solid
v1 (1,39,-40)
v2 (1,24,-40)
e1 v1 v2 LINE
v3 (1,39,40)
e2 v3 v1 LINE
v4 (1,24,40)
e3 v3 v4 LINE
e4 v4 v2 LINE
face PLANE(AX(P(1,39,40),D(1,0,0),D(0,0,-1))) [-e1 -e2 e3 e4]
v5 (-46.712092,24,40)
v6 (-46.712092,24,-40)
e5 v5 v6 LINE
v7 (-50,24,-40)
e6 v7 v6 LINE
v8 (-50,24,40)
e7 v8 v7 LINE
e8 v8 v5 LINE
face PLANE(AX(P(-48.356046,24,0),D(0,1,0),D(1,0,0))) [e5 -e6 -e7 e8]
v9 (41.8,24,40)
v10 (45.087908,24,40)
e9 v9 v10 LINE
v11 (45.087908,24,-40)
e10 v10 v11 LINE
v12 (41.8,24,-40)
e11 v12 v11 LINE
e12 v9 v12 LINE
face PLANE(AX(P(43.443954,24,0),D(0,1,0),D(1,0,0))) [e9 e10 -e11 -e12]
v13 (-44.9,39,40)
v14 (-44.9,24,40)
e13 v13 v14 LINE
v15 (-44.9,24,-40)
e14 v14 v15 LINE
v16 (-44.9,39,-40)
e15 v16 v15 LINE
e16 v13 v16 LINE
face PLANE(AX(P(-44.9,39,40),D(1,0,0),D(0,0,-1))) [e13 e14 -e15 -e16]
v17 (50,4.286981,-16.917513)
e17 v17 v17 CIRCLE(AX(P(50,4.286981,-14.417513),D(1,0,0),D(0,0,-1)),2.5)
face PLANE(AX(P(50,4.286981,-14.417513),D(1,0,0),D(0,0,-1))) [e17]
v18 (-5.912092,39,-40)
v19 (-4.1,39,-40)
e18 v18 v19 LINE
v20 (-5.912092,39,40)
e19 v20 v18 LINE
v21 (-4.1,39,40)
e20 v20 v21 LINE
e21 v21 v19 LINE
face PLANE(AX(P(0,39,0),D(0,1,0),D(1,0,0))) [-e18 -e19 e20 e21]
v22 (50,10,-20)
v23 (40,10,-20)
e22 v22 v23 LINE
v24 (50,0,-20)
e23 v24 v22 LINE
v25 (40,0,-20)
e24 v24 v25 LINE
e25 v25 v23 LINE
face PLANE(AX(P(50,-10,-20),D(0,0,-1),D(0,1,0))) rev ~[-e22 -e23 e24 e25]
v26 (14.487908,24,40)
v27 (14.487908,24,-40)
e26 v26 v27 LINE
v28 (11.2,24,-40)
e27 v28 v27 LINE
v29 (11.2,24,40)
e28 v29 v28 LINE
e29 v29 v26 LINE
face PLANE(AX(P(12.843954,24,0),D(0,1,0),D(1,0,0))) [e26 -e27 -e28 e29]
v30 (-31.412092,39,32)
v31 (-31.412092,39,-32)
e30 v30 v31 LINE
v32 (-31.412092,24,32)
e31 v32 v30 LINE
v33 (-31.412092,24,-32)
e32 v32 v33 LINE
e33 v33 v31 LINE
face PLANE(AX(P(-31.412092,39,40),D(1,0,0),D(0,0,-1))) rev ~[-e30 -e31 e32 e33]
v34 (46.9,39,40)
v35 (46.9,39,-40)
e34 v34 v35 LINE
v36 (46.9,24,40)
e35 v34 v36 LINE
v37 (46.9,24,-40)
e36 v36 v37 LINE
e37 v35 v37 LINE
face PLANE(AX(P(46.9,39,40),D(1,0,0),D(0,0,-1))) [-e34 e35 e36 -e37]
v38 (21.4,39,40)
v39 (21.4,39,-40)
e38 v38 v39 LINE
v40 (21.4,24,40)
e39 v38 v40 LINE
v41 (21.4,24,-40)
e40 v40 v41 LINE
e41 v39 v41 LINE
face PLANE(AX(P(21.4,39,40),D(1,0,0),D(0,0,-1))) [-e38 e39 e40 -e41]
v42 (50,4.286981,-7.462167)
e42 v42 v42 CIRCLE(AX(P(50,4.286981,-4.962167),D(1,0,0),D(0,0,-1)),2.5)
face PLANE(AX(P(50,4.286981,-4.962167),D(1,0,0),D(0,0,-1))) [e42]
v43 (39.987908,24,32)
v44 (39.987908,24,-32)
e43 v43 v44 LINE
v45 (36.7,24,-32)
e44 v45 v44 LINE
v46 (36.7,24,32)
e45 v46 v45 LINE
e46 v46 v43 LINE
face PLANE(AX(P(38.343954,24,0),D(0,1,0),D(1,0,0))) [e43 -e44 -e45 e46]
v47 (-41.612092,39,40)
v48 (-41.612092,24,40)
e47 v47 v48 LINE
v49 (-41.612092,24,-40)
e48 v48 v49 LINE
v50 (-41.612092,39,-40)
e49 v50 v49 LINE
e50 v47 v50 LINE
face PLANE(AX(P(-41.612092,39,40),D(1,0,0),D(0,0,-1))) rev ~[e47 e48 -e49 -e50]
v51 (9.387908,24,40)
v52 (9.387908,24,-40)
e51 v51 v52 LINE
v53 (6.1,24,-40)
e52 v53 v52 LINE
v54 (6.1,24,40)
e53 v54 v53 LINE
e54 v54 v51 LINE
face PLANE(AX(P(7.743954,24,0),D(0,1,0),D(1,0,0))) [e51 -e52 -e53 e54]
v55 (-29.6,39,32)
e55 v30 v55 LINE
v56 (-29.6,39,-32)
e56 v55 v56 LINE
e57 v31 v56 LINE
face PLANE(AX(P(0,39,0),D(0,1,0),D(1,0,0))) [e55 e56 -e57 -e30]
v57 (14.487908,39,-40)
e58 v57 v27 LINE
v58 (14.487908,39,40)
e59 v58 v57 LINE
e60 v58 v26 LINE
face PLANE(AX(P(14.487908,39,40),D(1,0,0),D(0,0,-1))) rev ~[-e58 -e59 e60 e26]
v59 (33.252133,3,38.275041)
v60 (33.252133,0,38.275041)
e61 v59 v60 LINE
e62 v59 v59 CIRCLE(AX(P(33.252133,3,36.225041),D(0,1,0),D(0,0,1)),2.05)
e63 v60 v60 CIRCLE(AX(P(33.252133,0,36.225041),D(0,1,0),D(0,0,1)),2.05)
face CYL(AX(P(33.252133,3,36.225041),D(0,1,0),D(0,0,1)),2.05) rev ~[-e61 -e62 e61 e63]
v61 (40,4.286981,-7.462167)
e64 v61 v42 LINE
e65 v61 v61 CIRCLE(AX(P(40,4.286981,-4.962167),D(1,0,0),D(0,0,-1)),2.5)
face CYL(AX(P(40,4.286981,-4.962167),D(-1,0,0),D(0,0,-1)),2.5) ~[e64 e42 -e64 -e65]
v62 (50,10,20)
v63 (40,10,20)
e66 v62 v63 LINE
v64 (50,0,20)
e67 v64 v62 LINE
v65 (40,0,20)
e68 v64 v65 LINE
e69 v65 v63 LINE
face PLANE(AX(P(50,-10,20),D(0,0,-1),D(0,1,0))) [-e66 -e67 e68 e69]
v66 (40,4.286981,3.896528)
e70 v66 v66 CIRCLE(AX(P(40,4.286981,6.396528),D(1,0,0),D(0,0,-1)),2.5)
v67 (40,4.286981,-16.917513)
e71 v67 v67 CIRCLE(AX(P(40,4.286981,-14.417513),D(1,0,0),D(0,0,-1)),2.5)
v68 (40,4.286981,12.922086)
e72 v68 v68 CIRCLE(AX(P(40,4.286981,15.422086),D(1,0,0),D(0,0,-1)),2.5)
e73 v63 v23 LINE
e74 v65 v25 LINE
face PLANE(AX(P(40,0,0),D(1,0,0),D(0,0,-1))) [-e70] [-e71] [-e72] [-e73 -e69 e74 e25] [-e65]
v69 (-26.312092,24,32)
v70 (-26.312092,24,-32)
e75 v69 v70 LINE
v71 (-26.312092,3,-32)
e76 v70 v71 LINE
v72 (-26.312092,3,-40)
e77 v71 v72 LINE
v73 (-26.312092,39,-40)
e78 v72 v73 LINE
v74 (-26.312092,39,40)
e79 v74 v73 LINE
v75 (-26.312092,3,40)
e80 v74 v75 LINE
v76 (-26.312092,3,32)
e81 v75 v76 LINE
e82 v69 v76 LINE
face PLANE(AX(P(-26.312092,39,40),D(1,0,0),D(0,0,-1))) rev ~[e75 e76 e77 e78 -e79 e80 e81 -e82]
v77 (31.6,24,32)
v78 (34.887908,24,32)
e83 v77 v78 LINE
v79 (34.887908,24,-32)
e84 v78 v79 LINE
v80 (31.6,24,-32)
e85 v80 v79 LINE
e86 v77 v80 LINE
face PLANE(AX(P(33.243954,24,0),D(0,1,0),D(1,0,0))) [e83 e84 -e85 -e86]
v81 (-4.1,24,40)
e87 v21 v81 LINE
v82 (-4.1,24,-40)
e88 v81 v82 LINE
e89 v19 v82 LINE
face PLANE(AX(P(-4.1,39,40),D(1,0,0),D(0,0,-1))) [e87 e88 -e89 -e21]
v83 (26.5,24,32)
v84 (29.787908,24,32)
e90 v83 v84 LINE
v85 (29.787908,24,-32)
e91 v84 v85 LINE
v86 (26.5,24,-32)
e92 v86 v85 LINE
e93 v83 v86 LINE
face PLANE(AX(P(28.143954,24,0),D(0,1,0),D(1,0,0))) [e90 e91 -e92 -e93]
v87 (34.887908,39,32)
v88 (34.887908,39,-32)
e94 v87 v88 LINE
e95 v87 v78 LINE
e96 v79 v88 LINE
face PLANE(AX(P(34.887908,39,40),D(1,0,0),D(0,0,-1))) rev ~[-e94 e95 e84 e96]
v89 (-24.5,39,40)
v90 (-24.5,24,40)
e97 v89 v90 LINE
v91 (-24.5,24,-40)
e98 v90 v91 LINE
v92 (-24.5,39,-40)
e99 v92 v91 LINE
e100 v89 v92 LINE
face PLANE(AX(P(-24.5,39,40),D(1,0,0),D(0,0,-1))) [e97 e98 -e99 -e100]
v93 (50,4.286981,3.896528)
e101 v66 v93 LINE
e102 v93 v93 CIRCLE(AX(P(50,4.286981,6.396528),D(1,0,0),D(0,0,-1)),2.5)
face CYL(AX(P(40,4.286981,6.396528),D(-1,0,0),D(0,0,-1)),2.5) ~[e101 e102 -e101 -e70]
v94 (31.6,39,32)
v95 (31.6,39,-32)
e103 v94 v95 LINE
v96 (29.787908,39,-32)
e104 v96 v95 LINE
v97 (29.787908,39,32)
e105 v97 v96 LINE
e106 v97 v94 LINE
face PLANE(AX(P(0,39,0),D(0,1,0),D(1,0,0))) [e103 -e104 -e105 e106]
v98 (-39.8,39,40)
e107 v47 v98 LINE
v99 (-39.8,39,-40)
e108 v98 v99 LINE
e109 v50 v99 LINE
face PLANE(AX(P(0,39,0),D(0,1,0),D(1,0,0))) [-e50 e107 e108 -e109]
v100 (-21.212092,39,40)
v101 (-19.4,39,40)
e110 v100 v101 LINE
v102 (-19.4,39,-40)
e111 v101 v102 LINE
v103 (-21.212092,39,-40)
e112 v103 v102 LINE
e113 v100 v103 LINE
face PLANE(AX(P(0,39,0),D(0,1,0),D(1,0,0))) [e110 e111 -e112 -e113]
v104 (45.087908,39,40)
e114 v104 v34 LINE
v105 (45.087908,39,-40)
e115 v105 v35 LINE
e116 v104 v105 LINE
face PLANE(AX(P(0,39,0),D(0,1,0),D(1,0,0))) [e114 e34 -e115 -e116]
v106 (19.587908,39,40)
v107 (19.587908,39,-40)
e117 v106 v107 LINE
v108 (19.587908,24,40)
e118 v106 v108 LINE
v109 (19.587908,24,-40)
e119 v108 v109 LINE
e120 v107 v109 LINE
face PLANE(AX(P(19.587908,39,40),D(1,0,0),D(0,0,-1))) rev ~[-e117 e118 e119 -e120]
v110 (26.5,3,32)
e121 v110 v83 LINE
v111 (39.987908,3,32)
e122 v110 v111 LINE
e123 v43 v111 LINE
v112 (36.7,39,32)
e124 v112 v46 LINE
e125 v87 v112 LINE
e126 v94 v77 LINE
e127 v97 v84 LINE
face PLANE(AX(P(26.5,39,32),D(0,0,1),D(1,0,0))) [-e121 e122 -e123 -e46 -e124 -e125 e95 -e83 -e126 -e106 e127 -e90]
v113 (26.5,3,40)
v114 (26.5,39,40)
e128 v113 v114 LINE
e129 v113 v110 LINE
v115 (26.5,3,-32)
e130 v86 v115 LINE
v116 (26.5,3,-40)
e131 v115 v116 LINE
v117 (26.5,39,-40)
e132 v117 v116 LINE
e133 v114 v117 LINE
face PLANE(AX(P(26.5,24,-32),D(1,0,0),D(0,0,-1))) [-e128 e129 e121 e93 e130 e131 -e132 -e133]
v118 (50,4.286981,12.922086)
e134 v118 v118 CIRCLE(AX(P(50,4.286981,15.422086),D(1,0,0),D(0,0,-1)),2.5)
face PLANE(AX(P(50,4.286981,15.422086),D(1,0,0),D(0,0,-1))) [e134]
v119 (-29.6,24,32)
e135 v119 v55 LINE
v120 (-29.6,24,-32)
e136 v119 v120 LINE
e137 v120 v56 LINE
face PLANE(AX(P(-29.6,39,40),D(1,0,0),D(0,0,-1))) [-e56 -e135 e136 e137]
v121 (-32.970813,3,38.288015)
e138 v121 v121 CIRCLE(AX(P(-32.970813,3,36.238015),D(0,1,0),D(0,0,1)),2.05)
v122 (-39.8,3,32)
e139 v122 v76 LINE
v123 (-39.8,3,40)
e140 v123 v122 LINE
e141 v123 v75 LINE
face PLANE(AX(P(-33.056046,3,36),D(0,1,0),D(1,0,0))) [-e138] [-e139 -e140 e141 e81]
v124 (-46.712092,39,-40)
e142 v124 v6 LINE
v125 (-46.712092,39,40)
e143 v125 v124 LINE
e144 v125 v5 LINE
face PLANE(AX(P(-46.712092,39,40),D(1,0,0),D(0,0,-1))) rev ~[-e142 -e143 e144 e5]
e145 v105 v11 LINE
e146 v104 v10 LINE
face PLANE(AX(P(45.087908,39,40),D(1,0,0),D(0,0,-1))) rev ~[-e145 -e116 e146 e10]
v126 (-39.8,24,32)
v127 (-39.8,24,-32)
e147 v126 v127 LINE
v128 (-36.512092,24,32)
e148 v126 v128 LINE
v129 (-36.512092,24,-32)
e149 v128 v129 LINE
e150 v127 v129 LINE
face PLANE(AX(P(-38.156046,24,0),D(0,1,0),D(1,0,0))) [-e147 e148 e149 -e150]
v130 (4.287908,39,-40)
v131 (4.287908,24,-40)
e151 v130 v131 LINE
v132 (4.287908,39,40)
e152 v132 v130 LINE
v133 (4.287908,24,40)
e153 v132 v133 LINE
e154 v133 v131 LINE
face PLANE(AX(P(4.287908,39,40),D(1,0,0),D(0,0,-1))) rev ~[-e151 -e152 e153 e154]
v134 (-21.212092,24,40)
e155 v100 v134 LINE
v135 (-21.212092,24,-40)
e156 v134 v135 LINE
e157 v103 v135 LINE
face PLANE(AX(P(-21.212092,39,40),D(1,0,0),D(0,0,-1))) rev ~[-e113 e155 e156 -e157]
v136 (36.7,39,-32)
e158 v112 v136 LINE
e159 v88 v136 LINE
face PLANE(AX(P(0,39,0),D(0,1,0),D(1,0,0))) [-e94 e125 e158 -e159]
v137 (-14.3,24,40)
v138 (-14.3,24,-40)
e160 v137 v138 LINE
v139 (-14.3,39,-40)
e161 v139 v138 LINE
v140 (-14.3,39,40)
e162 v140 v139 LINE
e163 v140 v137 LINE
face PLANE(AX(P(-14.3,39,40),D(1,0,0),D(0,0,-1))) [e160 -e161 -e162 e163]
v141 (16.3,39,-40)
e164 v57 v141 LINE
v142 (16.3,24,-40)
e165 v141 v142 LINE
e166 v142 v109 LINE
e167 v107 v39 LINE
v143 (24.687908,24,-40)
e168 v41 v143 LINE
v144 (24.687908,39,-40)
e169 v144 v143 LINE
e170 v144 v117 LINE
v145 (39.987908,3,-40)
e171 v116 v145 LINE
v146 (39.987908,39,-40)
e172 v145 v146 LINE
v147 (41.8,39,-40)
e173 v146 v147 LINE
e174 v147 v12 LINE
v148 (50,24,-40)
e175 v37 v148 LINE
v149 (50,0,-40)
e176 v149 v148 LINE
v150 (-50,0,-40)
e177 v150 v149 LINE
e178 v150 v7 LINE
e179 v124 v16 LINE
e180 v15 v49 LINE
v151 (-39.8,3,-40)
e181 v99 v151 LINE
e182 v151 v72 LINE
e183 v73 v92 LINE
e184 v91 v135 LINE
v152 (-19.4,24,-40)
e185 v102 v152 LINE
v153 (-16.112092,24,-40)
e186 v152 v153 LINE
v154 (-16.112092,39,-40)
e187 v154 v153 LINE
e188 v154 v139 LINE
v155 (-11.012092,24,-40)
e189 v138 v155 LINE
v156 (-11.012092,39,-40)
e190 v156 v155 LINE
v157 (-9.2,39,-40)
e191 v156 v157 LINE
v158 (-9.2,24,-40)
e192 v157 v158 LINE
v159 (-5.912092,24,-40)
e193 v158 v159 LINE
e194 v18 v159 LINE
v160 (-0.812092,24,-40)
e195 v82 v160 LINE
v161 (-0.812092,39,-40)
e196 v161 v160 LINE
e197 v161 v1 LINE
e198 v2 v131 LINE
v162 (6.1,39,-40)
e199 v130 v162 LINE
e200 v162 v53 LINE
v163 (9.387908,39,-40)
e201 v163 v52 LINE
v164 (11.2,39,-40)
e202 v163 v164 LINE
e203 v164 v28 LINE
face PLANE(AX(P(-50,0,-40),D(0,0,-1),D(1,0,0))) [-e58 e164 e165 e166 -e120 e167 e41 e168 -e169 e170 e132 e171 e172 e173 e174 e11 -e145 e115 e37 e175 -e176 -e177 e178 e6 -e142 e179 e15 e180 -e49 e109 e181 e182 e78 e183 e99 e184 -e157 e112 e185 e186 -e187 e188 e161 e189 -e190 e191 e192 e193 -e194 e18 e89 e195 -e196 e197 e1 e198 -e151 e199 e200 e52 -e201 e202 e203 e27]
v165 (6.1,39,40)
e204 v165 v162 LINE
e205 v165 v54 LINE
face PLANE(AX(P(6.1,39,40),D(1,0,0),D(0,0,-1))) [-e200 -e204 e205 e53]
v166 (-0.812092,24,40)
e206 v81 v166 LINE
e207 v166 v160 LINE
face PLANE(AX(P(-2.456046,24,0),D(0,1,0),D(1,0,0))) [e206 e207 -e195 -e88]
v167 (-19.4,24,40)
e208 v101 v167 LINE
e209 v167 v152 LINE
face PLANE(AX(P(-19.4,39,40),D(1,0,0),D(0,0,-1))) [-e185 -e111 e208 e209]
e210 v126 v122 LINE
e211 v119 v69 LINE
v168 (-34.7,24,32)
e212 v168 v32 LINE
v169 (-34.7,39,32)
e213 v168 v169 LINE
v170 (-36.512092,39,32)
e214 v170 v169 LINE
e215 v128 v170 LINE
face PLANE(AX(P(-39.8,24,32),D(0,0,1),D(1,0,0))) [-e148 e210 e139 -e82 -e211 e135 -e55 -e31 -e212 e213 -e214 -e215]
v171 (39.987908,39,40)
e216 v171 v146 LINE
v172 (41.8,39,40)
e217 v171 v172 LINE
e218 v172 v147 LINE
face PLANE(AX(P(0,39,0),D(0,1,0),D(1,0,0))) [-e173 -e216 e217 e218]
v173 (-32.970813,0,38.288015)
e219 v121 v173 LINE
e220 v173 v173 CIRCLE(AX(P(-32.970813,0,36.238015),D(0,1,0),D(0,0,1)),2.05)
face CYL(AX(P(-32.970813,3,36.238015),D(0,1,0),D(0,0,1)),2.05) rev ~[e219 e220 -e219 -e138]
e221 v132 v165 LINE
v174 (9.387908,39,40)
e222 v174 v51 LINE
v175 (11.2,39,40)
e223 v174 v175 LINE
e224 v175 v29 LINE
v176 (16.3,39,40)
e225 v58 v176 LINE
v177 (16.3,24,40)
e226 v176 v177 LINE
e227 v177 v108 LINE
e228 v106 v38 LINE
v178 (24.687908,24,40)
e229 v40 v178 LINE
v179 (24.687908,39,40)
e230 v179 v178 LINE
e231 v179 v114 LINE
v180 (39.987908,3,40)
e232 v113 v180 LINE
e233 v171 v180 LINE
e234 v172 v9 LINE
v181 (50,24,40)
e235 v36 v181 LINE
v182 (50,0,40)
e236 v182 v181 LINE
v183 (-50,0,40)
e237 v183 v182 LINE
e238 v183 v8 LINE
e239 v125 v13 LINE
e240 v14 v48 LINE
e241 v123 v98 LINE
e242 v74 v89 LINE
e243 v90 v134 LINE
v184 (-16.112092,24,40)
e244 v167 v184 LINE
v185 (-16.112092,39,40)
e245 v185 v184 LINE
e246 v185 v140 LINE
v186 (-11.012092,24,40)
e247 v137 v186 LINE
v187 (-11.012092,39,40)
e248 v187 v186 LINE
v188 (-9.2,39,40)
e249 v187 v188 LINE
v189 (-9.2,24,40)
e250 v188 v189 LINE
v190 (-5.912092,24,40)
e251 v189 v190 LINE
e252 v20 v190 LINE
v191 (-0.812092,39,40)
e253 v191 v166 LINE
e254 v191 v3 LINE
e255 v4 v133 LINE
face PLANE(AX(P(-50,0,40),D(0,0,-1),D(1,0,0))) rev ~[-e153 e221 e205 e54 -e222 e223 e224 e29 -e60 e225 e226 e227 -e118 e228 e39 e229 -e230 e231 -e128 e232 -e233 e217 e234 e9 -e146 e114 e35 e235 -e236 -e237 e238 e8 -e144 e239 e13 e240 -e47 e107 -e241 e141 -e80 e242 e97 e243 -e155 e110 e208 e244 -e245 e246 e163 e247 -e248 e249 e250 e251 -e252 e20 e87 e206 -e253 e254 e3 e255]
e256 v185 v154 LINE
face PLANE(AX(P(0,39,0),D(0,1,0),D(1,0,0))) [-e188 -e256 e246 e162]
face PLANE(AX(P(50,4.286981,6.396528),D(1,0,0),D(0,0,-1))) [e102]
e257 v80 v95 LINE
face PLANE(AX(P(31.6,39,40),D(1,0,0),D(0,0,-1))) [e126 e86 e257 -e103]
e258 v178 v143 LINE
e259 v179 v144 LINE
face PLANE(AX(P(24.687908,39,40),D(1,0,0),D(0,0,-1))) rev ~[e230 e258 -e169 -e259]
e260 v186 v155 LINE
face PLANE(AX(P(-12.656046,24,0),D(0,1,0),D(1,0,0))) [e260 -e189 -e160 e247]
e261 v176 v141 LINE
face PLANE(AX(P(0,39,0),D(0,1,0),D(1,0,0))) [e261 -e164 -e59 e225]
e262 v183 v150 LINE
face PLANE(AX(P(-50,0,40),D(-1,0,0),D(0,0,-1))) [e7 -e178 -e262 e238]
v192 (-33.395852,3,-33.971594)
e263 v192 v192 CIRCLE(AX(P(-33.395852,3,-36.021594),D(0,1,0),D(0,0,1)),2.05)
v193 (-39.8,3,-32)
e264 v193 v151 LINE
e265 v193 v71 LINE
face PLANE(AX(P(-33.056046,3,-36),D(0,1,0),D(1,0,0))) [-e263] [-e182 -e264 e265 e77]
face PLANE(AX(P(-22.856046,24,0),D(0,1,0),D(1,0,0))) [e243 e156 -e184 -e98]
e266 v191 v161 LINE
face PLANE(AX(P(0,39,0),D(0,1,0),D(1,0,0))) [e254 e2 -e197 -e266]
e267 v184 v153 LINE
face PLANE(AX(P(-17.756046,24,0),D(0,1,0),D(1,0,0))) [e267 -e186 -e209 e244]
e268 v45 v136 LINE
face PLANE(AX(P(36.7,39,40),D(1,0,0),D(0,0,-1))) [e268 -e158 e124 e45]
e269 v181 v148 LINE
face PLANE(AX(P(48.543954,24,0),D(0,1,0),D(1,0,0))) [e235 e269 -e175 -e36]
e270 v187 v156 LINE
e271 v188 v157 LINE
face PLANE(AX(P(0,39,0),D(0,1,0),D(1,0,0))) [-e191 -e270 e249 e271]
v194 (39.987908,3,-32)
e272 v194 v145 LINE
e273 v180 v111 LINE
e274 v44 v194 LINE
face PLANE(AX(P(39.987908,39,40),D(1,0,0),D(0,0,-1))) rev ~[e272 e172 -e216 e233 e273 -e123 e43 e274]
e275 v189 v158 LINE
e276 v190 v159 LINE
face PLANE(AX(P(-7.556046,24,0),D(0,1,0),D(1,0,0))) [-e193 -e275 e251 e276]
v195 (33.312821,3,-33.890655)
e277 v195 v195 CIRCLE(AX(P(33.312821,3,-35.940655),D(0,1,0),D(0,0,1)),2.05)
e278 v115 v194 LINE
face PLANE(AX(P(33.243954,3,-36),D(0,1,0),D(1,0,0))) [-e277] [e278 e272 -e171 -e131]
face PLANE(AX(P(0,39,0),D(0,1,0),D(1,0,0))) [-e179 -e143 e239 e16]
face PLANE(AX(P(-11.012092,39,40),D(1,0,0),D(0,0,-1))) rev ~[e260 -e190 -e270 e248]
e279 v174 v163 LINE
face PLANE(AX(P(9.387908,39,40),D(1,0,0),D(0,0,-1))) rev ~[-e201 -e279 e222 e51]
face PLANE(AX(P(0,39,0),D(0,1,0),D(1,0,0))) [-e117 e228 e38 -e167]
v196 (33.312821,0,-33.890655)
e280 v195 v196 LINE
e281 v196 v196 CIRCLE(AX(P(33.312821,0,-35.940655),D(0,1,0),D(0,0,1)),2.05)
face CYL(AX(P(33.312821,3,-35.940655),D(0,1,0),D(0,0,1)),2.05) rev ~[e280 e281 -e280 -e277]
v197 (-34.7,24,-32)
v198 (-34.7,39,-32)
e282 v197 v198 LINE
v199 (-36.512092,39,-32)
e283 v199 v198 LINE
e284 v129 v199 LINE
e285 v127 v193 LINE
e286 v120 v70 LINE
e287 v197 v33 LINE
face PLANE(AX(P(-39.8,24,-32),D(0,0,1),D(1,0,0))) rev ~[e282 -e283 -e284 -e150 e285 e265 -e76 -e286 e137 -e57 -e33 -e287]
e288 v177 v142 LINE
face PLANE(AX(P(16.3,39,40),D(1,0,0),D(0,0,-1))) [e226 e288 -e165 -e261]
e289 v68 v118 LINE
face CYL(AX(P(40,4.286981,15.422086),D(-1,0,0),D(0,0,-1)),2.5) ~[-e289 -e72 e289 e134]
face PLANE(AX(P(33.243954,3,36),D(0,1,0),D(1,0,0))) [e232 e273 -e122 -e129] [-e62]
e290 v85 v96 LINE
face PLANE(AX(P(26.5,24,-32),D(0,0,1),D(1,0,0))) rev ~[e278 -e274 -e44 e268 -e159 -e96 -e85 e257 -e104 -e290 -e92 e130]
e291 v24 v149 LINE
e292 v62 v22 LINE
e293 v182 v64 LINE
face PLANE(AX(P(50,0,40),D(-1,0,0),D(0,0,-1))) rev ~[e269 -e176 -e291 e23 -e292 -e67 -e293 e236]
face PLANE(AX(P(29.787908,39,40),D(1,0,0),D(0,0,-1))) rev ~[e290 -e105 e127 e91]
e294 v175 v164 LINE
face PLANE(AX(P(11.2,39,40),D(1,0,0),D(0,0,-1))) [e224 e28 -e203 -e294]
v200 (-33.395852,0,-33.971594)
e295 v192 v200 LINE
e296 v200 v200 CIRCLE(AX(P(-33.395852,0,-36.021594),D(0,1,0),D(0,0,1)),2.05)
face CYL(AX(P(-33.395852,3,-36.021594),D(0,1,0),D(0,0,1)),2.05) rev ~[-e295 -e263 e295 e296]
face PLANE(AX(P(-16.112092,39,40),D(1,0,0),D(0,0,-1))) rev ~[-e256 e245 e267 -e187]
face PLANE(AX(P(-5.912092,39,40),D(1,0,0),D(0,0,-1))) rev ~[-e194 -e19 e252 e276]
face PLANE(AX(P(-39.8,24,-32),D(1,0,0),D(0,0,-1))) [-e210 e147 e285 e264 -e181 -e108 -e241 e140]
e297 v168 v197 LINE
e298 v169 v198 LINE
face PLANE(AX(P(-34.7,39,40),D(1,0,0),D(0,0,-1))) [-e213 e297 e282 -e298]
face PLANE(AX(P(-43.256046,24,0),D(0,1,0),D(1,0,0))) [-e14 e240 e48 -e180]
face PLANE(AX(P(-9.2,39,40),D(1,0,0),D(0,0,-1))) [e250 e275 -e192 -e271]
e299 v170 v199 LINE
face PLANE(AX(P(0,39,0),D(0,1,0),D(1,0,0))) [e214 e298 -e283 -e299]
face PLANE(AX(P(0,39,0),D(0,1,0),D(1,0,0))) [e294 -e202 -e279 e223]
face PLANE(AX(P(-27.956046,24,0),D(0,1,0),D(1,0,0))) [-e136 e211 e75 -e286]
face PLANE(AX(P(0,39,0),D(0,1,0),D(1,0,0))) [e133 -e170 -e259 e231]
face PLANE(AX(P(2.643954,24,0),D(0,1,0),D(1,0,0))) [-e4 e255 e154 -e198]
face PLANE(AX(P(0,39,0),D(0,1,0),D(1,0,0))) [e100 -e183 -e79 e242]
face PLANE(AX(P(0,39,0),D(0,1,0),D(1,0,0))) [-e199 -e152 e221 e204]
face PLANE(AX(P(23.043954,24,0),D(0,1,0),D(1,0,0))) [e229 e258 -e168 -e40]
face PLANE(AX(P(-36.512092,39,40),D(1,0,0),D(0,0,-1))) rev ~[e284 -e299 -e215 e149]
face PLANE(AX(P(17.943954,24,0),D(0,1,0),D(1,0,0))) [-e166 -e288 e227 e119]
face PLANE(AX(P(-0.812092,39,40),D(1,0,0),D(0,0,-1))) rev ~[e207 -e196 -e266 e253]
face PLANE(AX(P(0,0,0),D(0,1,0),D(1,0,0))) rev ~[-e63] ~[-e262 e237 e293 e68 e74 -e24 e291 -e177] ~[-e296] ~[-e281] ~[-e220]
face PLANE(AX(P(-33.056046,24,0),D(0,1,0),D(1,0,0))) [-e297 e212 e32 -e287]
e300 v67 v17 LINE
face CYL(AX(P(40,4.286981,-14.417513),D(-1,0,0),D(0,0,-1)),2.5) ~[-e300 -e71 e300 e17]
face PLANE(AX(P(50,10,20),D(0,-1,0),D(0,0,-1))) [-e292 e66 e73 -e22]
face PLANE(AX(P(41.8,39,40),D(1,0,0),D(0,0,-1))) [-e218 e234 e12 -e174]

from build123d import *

# Parameters (mm, degrees)
SKETCH_1_W           = 100
SKETCH_1_H           = 80
EXTRUDE_1_DEPTH      = 39
SKETCH_2_W           = 3.287907932
SKETCH_2_H           = 80
CUT_EXTRUDE_1_DEPTH  = 15
SKETCH_3_W           = 13.487907932
SKETCH_3_H           = 8
CUT_EXTRUDE_2_DEPTH  = 21
SKETCH_3_2_W         = 13.487907932
SKETCH_3_2_H         = 8
CUT_EXTRUDE_3_DEPTH  = 15
SKETCH_4_W           = 13.487907932
SKETCH_4_H           = 8
CUT_EXTRUDE_4_DEPTH  = 21
SKETCH_4_3_W         = 13.487907932
SKETCH_4_3_H         = 8
CUT_EXTRUDE_5_DEPTH  = 15
SKETCH_5_W           = 13.487907932
SKETCH_5_H           = 8
CUT_EXTRUDE_6_DEPTH  = 21
SKETCH_5_2_W         = 13.487907932
SKETCH_5_2_H         = 8
CUT_EXTRUDE_7_DEPTH  = 15
SKETCH_6_W           = 13.487907932
SKETCH_6_H           = 8
CUT_EXTRUDE_8_DEPTH  = 21
SKETCH_6_2_W         = 13.487907932
SKETCH_6_2_H         = 8
CUT_EXTRUDE_9_DEPTH  = 36
SKETCH_7_R           = 2.05
CUT_EXTRUDE_10_DEPTH = 3
SKETCH_8_R           = 2.05
CUT_EXTRUDE_11_DEPTH = 3
SKETCH_9_R           = 2.05
CUT_EXTRUDE_12_DEPTH = 3
SKETCH_10_R          = 2.05
CUT_EXTRUDE_13_DEPTH = 3
SKETCH_11_W          = 40
SKETCH_11_H          = 20
CUT_EXTRUDE_14_DEPTH = 10
SKETCH_12_R          = 2.5
EXTRUDE_2_DEPTH      = 10


with BuildPart() as part:
    # 草图1 → 凸台-拉伸1 (new body)
    with BuildSketch(Plane(origin=(0, 0, 0), x_dir=(1, 0, 0), z_dir=(0, 1, 0))):
        Rectangle(SKETCH_1_W, SKETCH_1_H)
    extrude(amount=EXTRUDE_1_DEPTH)

    # 草图2 → 切除-拉伸1 (cut)
    with BuildSketch(Plane(origin=(0, 39, 0), x_dir=(1, 0, 0), z_dir=(0, 1, 0))):
        with Locations((-48.356046034, 0)):
            Rectangle(SKETCH_2_W, SKETCH_2_H)
        with Locations((-43.256046034, 0)):
            Rectangle(SKETCH_2_W, SKETCH_2_H)
        with Locations((-38.156046034, 0)):
            Rectangle(SKETCH_2_W, SKETCH_2_H)
        with Locations((-33.056046034, 0)):
            Rectangle(SKETCH_2_W, SKETCH_2_H)
        with Locations((-27.956046034, 0)):
            Rectangle(SKETCH_2_W, SKETCH_2_H)
        with Locations((-22.856046034, 0)):
            Rectangle(SKETCH_2_W, SKETCH_2_H)
        with Locations((-17.756046034, 0)):
            Rectangle(SKETCH_2_W, SKETCH_2_H)
        with Locations((-12.656046034, 0)):
            Rectangle(SKETCH_2_W, SKETCH_2_H)
        with Locations((-7.556046034, 0)):
            Rectangle(SKETCH_2_W, SKETCH_2_H)
        with Locations((-2.456046034, 0)):
            Rectangle(SKETCH_2_W, SKETCH_2_H)
        with Locations((2.643953966, 0)):
            Rectangle(SKETCH_2_W, SKETCH_2_H)
        with Locations((7.743953966, 0)):
            Rectangle(SKETCH_2_W, SKETCH_2_H)
        with Locations((12.843953966, 0)):
            Rectangle(SKETCH_2_W, SKETCH_2_H)
        with Locations((17.943953966, 0)):
            Rectangle(SKETCH_2_W, SKETCH_2_H)
        with Locations((23.043953966, 0)):
            Rectangle(SKETCH_2_W, SKETCH_2_H)
        with Locations((28.143953966, 0)):
            Rectangle(SKETCH_2_W, SKETCH_2_H)
        with Locations((33.243953966, 0)):
            Rectangle(SKETCH_2_W, SKETCH_2_H)
        with Locations((38.343953966, 0)):
            Rectangle(SKETCH_2_W, SKETCH_2_H)
        with Locations((43.443953966, 0)):
            Rectangle(SKETCH_2_W, SKETCH_2_H)
        with Locations((48.543953966, 0)):
            Rectangle(SKETCH_2_W, SKETCH_2_H)
    extrude(amount=-CUT_EXTRUDE_1_DEPTH, mode=Mode.SUBTRACT)

    # 草图3 → 切除-拉伸2 (cut)
    with BuildSketch(Plane(origin=(0, 24, 0), x_dir=(1, 0, 0), z_dir=(0, 1, 0))):
        with Locations((-33.056046034, 36)):
            Rectangle(SKETCH_3_W, SKETCH_3_H)
    extrude(amount=-CUT_EXTRUDE_2_DEPTH, mode=Mode.SUBTRACT)

    # 草图3<2> → 切除-拉伸3 (cut)
    with BuildSketch(Plane(origin=(0, 24, 0), x_dir=(1, 0, 0), z_dir=(0, 1, 0))):
        with Locations((-33.056046034, 36)):
            Rectangle(SKETCH_3_2_W, SKETCH_3_2_H)
    extrude(amount=CUT_EXTRUDE_3_DEPTH, mode=Mode.SUBTRACT)

    # 草图4 → 切除-拉伸4 (cut)
    with BuildSketch(Plane(origin=(0, 24, 0), x_dir=(1, 0, 0), z_dir=(0, 1, 0))):
        with Locations((33.243953966, 36)):
            Rectangle(SKETCH_4_W, SKETCH_4_H)
    extrude(amount=-CUT_EXTRUDE_4_DEPTH, mode=Mode.SUBTRACT)

    # 草图4<3> → 切除-拉伸5 (cut)
    with BuildSketch(Plane(origin=(0, 24, 0), x_dir=(1, 0, 0), z_dir=(0, 1, 0))):
        with Locations((33.243953966, 36)):
            Rectangle(SKETCH_4_3_W, SKETCH_4_3_H)
    extrude(amount=CUT_EXTRUDE_5_DEPTH, mode=Mode.SUBTRACT)

    # 草图5 → 切除-拉伸6 (cut)
    with BuildSketch(Plane(origin=(0, 24, 0), x_dir=(1, 0, 0), z_dir=(0, 1, 0))):
        with Locations((-33.056046034, -36)):
            Rectangle(SKETCH_5_W, SKETCH_5_H)
    extrude(amount=-CUT_EXTRUDE_6_DEPTH, mode=Mode.SUBTRACT)

    # 草图5<2> → 切除-拉伸7 (cut)
    with BuildSketch(Plane(origin=(0, 24, 0), x_dir=(1, 0, 0), z_dir=(0, 1, 0))):
        with Locations((-33.056046034, -36)):
            Rectangle(SKETCH_5_2_W, SKETCH_5_2_H)
    extrude(amount=CUT_EXTRUDE_7_DEPTH, mode=Mode.SUBTRACT)

    # 草图6 → 切除-拉伸8 (cut)
    with BuildSketch(Plane(origin=(0, 39, 0), x_dir=(1, 0, 0), z_dir=(0, 1, 0))):
        with Locations((33.243953966, -36)):
            Rectangle(SKETCH_6_W, SKETCH_6_H)
    extrude(amount=-CUT_EXTRUDE_8_DEPTH, mode=Mode.SUBTRACT)

    # 草图6<2> → 切除-拉伸9 (cut)
    with BuildSketch(Plane(origin=(0, 39, 0), x_dir=(1, 0, 0), z_dir=(0, 1, 0))):
        with Locations((33.243953966, -36)):
            Rectangle(SKETCH_6_2_W, SKETCH_6_2_H)
    extrude(amount=-CUT_EXTRUDE_9_DEPTH, mode=Mode.SUBTRACT)

    # 草图7 → 切除-拉伸10 (cut)
    with BuildSketch(Plane(origin=(0, 3, 0), x_dir=(1, 0, 0), z_dir=(0, 1, 0))):
        with Locations((-33.395851618, 36.021594171)):
            Circle(SKETCH_7_R)
    extrude(amount=-CUT_EXTRUDE_10_DEPTH, mode=Mode.SUBTRACT)

    # 草图8 → 切除-拉伸11 (cut)
    with BuildSketch(Plane(origin=(0, 3, 0), x_dir=(1, 0, 0), z_dir=(0, 1, 0))):
        with Locations((33.312820736, 35.94065507)):
            Circle(SKETCH_8_R)
    extrude(amount=-CUT_EXTRUDE_11_DEPTH, mode=Mode.SUBTRACT)

    # 草图9 → 切除-拉伸12 (cut)
    with BuildSketch(Plane(origin=(0, 3, 0), x_dir=(1, 0, 0), z_dir=(0, 1, 0))):
        with Locations((-32.970812698, -36.238015002)):
            Circle(SKETCH_9_R)
    extrude(amount=-CUT_EXTRUDE_12_DEPTH, mode=Mode.SUBTRACT)

    # 草图10 → 切除-拉伸13 (cut)
    with BuildSketch(Plane(origin=(0, 3, 0), x_dir=(1, 0, 0), z_dir=(0, 1, 0))):
        with Locations((33.252132878, -36.225040763)):
            Circle(SKETCH_10_R)
    extrude(amount=-CUT_EXTRUDE_13_DEPTH, mode=Mode.SUBTRACT)

    # 草图11 → 切除-拉伸14 (cut)
    with BuildSketch(Plane(origin=(50, 0, 0), x_dir=(0, 0, -1), z_dir=(1, 0, 0))):
        Rectangle(SKETCH_11_W, SKETCH_11_H)
    extrude(amount=-CUT_EXTRUDE_14_DEPTH, mode=Mode.SUBTRACT)

    # 草图12 → 凸台-拉伸2 (add)
    with BuildSketch(Plane(origin=(40, 0, 0), x_dir=(0, 0, -1), z_dir=(1, 0, 0))):
        with Locations((-15.422086217, 4.286980586)):
            Circle(SKETCH_12_R)
        with Locations((-6.396528349, 4.286980586)):
            Circle(SKETCH_12_R)
        with Locations((4.962166927, 4.286980586)):
            Circle(SKETCH_12_R)
        with Locations((14.417513265, 4.286980586)):
            Circle(SKETCH_12_R)
    extrude(amount=EXTRUDE_2_DEPTH)


solid = part.part
